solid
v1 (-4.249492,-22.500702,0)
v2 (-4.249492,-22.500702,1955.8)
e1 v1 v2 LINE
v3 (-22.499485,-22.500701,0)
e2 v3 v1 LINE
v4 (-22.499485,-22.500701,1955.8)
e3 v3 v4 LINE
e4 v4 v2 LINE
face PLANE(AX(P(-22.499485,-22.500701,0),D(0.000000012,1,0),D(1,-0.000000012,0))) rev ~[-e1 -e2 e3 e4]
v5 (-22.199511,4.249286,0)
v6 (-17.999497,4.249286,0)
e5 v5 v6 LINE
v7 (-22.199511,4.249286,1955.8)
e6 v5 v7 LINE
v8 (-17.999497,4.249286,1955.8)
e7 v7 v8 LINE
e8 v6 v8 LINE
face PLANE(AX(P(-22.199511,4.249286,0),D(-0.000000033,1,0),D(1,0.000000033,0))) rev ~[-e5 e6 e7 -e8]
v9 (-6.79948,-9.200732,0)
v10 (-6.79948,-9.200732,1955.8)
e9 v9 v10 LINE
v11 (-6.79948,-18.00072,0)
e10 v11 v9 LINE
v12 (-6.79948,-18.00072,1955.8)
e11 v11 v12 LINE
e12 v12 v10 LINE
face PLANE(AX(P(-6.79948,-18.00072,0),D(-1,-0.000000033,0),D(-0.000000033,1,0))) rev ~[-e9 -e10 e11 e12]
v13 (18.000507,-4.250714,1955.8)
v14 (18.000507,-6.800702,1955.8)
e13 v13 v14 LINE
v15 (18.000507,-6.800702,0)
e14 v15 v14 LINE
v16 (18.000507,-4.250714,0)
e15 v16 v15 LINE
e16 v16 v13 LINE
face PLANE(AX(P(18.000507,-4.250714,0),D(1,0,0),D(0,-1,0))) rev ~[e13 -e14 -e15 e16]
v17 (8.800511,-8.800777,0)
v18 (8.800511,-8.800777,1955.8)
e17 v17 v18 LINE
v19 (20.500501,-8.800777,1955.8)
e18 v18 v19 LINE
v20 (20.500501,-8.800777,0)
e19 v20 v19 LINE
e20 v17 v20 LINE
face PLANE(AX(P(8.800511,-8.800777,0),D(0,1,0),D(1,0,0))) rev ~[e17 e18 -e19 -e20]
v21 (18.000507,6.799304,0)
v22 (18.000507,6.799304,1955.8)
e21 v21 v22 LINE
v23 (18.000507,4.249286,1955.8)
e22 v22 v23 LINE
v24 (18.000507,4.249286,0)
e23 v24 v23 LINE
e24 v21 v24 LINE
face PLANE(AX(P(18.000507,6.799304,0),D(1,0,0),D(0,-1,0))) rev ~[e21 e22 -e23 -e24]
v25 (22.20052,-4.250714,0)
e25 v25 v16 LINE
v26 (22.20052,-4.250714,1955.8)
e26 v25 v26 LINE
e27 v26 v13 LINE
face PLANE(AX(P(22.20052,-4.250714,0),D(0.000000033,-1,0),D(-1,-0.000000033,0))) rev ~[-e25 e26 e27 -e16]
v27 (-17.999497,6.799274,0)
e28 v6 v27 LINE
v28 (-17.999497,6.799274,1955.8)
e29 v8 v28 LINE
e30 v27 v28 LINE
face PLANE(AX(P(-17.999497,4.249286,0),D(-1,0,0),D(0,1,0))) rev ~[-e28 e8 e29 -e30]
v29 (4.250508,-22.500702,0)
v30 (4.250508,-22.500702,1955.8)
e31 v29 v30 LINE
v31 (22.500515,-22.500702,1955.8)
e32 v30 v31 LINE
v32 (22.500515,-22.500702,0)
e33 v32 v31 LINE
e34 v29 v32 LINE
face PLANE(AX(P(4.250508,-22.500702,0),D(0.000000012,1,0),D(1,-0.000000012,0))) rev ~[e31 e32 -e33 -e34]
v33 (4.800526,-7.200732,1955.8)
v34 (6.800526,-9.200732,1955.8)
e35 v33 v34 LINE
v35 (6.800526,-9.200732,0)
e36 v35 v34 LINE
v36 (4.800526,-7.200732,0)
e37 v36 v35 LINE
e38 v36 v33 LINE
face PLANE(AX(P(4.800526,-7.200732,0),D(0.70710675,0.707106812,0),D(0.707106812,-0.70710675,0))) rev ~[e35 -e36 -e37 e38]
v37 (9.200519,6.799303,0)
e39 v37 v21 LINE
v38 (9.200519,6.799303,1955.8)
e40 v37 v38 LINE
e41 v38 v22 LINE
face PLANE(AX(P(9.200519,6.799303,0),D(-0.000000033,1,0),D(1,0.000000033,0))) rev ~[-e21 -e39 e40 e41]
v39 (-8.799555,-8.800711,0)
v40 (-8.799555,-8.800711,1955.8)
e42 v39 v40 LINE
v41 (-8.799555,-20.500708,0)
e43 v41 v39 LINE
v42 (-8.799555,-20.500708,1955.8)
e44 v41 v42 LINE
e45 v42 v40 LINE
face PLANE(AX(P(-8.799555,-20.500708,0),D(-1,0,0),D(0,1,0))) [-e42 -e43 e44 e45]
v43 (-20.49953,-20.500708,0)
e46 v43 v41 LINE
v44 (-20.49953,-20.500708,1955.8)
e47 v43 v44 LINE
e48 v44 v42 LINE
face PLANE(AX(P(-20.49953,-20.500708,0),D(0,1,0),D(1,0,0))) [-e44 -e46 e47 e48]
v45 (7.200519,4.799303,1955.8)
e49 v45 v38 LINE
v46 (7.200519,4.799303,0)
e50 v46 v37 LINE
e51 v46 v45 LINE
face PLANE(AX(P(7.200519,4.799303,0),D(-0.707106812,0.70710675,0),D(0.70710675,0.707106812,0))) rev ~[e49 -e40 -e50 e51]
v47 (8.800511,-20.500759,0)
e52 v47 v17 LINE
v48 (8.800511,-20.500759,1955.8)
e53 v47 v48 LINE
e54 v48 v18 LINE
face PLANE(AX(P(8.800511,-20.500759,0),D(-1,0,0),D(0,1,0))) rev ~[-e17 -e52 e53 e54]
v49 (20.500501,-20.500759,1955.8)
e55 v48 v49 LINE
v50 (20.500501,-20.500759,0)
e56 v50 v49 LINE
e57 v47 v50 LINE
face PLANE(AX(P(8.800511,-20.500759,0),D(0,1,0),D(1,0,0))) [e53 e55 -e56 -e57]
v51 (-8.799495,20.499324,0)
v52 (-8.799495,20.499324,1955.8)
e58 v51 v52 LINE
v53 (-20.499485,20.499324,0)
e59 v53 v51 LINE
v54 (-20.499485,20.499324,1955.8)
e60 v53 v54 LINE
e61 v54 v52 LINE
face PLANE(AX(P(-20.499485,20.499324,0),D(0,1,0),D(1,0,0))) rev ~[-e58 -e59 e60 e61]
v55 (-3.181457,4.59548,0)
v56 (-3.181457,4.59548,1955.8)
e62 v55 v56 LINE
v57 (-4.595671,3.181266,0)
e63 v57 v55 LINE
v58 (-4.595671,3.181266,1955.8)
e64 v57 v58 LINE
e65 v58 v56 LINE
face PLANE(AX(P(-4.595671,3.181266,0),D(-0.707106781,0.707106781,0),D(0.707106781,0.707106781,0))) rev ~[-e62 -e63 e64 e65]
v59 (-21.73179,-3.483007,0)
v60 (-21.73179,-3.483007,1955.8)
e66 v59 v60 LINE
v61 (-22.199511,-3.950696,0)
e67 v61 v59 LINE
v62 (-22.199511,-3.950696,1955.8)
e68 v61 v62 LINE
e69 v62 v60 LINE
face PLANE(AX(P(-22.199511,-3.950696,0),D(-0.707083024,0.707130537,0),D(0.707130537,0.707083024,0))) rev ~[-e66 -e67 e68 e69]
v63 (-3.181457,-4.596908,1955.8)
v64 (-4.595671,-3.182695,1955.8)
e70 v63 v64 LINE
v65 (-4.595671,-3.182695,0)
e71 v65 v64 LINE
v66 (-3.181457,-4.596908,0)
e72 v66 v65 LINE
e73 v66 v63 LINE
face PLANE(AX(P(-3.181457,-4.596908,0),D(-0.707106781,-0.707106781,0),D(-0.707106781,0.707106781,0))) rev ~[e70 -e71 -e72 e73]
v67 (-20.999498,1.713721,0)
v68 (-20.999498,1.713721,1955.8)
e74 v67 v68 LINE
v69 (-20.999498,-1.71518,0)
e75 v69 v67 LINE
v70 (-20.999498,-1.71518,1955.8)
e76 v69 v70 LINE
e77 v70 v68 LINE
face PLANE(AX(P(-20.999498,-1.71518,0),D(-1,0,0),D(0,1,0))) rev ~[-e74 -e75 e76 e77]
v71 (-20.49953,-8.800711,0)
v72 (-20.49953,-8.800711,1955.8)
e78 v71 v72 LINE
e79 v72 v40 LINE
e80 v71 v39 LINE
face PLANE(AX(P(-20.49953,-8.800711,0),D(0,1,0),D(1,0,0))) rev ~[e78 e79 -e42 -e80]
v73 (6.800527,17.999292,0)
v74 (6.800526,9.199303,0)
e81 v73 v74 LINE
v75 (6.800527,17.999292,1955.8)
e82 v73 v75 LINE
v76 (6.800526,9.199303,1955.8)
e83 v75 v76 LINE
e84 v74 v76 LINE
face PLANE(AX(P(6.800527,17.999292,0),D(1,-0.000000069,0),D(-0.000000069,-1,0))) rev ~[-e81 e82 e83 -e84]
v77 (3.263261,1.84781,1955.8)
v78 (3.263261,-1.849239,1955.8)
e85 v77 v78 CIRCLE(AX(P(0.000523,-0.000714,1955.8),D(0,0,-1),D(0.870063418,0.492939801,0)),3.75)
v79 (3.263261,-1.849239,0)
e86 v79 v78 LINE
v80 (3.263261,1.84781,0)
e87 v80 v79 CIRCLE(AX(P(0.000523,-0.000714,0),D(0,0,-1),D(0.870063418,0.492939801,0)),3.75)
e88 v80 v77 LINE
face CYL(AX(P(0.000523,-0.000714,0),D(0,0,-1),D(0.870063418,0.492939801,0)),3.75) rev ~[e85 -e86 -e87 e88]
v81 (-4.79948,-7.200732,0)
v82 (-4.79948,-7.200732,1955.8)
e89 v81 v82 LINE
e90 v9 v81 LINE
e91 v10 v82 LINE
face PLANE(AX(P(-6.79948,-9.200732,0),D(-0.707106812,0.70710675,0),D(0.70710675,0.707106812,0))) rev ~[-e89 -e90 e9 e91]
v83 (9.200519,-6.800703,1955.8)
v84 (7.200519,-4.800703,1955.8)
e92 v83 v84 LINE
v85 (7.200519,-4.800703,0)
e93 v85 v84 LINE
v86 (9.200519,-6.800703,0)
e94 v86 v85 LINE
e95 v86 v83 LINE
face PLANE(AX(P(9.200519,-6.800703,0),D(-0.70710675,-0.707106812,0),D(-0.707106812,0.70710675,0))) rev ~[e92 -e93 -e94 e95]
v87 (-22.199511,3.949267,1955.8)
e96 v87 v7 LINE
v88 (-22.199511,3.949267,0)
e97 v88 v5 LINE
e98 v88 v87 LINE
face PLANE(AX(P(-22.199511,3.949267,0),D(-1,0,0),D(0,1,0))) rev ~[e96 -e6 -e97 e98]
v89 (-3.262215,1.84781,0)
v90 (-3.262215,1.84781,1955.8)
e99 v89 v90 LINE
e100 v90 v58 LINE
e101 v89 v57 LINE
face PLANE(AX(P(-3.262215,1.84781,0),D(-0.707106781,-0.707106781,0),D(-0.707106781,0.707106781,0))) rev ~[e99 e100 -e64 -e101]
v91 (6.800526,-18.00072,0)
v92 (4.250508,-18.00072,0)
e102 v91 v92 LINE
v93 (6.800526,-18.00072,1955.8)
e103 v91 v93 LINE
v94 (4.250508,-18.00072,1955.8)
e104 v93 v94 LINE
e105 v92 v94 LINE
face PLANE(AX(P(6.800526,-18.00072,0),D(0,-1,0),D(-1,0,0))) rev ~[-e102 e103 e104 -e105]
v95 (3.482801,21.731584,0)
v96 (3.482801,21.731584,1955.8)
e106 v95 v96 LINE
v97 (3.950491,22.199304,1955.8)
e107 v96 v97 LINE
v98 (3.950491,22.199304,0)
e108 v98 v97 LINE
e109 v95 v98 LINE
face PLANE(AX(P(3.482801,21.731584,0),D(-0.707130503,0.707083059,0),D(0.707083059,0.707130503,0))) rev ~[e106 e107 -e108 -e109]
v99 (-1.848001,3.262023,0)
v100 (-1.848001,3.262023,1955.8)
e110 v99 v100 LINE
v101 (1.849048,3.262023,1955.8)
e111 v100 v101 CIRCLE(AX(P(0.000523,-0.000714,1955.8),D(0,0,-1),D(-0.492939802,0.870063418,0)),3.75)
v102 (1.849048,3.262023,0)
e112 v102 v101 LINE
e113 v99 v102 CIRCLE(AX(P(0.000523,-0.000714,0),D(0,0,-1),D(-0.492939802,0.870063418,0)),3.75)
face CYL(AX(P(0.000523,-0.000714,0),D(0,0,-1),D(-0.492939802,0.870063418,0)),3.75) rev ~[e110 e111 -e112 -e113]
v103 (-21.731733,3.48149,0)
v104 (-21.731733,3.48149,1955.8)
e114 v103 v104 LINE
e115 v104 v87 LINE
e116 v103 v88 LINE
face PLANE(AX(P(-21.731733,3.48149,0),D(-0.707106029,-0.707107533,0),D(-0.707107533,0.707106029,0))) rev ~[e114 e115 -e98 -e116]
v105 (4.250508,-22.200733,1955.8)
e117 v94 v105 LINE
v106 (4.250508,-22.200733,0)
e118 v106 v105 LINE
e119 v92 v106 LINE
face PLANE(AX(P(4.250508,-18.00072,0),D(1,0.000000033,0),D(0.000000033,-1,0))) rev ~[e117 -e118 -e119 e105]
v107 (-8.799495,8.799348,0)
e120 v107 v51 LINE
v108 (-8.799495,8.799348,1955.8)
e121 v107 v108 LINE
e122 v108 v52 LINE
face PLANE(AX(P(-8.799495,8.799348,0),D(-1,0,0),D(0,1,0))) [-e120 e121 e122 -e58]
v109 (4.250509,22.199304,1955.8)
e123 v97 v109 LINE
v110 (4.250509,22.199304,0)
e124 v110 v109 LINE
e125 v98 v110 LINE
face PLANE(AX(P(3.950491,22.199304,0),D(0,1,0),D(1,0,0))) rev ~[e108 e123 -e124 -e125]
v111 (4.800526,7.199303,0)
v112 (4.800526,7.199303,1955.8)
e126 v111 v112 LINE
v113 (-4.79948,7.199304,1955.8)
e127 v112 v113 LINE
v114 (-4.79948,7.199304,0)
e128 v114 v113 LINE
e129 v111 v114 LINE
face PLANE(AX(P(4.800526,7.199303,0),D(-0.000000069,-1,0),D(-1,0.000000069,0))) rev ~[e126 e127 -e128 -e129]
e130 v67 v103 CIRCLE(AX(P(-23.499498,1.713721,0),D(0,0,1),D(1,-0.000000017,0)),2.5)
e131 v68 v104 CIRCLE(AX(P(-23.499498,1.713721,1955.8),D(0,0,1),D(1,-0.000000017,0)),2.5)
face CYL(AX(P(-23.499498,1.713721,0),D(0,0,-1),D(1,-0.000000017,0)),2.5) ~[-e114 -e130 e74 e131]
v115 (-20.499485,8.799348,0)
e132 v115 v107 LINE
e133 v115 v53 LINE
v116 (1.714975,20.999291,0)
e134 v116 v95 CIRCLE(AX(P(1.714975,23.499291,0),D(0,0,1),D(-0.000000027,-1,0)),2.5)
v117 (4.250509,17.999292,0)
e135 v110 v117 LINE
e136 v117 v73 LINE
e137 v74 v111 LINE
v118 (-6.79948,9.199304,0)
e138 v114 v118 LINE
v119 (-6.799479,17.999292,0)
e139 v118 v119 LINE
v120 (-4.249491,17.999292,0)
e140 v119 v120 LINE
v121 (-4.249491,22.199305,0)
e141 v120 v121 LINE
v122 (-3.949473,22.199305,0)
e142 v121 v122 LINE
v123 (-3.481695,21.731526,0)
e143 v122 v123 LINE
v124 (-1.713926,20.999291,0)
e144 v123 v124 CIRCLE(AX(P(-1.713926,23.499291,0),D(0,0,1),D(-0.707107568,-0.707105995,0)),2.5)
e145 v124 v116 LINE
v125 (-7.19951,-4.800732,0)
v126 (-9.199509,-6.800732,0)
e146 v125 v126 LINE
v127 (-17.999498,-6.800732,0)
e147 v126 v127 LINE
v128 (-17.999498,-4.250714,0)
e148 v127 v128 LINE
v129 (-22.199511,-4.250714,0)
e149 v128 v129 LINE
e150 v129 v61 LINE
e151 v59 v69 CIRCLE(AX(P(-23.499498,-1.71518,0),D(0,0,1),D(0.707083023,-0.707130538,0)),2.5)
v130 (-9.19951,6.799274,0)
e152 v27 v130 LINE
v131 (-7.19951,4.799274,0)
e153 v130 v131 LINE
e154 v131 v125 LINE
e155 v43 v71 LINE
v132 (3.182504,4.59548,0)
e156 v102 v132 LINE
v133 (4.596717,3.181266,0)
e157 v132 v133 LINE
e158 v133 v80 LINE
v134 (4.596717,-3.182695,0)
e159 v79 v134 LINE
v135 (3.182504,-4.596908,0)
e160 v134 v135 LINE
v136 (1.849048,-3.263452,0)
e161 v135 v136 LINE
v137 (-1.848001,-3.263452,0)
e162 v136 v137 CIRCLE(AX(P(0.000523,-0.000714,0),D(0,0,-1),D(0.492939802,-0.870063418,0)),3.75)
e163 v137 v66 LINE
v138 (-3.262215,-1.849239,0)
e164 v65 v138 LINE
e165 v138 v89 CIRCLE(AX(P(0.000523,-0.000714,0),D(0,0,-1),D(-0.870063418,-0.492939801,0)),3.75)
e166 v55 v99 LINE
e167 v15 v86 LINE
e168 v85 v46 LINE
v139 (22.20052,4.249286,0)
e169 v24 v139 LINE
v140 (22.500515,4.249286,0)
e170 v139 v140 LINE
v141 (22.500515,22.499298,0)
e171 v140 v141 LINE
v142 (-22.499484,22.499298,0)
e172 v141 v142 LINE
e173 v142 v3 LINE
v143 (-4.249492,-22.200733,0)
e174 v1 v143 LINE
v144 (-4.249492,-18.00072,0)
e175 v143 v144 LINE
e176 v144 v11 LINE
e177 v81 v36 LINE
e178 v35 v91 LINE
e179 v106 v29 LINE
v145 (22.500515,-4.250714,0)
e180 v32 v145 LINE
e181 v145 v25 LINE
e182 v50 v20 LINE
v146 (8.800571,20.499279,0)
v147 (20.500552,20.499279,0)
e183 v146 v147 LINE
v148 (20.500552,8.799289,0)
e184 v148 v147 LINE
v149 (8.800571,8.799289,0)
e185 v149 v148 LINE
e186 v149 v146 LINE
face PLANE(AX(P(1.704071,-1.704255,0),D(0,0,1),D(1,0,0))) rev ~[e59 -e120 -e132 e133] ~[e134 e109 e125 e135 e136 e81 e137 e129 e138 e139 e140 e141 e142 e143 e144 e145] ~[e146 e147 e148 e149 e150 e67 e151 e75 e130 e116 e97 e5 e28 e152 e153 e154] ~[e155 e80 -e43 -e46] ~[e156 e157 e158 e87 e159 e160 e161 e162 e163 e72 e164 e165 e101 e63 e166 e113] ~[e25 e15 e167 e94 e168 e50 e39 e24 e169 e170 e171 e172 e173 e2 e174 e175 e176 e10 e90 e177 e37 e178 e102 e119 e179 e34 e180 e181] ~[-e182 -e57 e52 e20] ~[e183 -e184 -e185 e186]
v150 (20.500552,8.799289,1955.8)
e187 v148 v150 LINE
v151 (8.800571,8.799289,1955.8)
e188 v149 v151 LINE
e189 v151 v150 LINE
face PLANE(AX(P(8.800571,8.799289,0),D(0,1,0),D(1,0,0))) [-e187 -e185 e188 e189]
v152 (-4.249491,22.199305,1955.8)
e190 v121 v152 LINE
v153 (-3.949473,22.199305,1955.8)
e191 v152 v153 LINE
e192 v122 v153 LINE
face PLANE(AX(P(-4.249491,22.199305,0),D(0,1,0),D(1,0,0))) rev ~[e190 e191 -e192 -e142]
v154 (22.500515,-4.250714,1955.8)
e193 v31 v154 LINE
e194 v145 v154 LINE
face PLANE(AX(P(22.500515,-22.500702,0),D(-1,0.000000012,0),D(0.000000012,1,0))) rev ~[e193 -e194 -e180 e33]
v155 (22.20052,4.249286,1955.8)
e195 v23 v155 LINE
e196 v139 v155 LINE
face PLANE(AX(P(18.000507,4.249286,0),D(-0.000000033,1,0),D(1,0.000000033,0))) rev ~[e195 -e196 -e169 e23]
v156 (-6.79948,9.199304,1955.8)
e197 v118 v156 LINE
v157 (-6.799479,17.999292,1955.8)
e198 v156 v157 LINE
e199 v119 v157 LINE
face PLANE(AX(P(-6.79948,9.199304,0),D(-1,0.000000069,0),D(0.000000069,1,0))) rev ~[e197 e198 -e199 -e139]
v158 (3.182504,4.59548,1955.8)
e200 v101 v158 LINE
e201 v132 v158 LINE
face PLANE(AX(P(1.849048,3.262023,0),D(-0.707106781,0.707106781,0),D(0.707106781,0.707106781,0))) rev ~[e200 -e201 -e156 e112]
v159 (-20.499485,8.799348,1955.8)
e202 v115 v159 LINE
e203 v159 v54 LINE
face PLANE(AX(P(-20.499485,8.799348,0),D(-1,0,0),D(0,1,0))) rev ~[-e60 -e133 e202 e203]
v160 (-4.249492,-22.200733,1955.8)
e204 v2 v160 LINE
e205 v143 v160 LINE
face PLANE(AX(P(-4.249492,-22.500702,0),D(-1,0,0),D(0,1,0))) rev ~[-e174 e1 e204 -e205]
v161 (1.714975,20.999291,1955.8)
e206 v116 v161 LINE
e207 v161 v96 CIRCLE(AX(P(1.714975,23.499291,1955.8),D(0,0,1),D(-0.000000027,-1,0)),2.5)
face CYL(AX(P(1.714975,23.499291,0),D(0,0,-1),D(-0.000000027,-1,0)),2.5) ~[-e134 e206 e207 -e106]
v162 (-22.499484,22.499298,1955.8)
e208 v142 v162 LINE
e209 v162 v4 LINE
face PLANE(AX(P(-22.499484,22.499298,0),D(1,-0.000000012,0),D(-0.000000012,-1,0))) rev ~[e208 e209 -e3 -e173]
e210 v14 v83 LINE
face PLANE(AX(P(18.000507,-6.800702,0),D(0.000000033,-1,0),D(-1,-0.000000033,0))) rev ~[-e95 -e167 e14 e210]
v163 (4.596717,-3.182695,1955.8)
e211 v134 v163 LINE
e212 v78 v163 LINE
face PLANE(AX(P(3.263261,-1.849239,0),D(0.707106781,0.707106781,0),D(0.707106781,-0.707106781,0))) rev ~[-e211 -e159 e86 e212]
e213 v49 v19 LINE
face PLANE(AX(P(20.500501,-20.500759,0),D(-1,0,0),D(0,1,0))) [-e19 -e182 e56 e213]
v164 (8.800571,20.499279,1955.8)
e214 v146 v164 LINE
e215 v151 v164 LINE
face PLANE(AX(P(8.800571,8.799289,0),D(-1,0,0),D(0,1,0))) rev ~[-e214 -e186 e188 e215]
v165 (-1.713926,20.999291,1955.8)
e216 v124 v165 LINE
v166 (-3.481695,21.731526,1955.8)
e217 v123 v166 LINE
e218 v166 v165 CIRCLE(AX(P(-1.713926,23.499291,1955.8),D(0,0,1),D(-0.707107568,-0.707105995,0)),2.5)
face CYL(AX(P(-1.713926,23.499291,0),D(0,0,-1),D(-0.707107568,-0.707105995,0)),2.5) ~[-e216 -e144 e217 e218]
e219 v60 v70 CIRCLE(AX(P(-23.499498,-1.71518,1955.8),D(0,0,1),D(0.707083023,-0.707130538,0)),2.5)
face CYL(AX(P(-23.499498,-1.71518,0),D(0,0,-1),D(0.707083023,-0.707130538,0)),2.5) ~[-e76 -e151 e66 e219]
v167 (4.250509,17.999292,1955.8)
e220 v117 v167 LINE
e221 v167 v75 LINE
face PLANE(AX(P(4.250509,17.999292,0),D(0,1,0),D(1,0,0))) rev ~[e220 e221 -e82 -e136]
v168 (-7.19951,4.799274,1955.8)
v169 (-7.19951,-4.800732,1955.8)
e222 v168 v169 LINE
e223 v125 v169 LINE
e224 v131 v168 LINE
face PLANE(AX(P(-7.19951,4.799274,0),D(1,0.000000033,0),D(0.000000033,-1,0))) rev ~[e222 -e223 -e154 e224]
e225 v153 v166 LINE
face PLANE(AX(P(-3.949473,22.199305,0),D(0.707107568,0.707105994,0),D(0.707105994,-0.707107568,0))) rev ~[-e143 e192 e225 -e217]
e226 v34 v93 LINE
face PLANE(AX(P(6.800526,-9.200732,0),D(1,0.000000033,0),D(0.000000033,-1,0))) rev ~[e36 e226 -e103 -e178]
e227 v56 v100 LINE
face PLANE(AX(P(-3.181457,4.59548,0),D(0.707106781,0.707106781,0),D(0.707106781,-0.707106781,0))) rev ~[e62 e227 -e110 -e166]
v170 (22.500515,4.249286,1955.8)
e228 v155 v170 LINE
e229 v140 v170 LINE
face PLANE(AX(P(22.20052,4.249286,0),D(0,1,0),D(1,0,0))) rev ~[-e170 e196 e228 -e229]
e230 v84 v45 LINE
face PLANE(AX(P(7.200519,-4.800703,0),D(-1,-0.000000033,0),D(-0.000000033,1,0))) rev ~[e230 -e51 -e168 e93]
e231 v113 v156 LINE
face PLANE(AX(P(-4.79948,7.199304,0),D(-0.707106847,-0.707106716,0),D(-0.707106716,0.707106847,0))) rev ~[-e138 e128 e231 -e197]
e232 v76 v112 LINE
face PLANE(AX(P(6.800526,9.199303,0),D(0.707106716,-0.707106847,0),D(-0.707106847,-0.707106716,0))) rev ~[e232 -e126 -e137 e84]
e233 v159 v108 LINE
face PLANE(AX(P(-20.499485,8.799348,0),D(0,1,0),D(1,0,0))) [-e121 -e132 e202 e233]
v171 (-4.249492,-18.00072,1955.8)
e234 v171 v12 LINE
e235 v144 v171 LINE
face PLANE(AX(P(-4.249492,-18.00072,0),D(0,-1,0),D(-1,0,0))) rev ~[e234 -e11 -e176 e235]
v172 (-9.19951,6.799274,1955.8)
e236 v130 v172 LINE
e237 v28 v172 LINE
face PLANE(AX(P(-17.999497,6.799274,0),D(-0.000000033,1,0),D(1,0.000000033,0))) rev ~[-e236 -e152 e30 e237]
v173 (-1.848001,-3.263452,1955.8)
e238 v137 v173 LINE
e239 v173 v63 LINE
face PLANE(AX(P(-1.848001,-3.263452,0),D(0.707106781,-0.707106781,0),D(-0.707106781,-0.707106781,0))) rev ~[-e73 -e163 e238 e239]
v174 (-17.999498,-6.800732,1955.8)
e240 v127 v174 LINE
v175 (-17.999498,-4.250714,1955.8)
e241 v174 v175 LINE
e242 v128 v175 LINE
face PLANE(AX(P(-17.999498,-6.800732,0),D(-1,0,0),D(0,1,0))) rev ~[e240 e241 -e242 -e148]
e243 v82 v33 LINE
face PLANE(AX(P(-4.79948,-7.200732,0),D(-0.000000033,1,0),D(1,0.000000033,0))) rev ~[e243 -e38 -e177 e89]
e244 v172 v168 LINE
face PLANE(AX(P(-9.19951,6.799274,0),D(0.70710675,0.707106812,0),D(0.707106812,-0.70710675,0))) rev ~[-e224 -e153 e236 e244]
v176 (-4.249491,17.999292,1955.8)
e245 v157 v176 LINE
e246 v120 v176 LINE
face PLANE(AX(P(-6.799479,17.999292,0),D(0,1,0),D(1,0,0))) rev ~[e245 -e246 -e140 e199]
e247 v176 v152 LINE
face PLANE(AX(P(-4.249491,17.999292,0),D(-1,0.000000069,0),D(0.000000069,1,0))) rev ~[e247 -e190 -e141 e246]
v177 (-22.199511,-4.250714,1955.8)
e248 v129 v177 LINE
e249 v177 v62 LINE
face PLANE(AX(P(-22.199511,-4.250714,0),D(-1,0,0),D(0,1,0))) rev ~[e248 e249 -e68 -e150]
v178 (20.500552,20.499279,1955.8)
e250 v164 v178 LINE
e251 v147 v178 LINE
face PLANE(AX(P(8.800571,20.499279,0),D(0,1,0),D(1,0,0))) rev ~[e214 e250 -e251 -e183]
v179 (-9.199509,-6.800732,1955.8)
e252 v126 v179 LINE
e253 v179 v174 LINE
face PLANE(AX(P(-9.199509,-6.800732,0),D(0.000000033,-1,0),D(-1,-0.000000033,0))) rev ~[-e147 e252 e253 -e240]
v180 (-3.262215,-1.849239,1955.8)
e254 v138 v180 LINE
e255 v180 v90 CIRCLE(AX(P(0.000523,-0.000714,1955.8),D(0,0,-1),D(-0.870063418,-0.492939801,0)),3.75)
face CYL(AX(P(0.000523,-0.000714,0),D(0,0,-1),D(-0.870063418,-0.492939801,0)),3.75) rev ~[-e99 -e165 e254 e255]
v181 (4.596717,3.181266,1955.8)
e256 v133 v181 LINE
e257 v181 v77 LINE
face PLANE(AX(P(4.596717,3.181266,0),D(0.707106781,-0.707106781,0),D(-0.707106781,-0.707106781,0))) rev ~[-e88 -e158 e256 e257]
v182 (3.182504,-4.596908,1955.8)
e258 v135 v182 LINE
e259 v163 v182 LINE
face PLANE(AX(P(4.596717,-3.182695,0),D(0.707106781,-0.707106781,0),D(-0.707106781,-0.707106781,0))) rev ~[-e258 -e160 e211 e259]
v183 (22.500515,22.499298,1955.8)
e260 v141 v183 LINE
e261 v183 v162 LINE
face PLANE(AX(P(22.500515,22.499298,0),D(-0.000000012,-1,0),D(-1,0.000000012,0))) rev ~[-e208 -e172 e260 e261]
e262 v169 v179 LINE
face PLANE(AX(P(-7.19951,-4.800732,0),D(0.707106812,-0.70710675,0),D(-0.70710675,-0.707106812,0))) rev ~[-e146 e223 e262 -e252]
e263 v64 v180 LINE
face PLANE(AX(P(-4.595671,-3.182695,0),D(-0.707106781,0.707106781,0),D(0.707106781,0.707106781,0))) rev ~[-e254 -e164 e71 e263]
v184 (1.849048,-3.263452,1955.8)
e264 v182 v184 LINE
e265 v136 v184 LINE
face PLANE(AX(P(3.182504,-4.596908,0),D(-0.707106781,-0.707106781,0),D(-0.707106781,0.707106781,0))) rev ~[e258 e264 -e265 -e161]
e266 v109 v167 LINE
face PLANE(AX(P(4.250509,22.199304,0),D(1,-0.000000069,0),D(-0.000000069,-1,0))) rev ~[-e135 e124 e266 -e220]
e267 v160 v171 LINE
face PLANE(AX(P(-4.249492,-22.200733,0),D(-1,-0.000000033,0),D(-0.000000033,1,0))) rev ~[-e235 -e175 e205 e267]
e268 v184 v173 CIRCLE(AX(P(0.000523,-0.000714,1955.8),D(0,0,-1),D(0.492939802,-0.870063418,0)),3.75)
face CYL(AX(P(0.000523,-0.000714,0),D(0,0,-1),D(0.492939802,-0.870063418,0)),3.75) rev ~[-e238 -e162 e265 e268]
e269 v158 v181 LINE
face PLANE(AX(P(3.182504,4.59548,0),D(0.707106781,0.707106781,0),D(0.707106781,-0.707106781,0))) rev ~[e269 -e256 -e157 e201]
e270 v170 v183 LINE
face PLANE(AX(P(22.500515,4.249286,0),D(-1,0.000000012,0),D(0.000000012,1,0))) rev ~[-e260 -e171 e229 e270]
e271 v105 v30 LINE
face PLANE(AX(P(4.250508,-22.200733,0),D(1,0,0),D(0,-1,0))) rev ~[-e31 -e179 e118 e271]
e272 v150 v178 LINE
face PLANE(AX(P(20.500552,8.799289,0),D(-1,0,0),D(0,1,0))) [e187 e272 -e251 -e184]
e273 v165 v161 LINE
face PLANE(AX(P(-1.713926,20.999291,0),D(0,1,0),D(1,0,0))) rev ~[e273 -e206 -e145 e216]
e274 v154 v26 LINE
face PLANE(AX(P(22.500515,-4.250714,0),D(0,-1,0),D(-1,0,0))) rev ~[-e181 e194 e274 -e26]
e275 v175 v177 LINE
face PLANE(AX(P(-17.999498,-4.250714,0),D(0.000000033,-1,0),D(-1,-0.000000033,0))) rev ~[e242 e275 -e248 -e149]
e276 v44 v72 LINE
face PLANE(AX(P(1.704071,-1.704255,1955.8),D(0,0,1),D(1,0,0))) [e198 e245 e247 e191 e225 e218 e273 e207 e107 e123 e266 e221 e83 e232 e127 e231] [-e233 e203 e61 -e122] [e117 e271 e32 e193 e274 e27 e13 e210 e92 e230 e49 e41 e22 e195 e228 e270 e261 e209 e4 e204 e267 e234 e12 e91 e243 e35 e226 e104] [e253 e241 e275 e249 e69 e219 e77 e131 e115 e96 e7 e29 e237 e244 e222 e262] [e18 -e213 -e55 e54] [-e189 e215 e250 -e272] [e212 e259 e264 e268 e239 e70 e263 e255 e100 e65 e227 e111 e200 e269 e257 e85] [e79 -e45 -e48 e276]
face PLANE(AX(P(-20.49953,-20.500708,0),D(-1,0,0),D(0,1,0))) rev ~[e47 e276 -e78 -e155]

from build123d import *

# Parameters (mm, degrees)
SKETCH1_W           = 11.699975178
SKETCH1_H           = 11.699996949
SKETCH1_W_2         = 11.699990436
SKETCH1_H_2         = 11.699981689
SKETCH1_W_3         = 11.699990437
SKETCH1_H_3         = 11.699975177
SKETCH1_W_4         = 11.699981689
SKETCH1_H_4         = 11.699990436
BOSS_EXTRUDE1_DEPTH = 1955.8


with BuildPart() as part:
    # Sketch1 → Boss-Extrude1 (new body)
    with BuildSketch(Plane.XY):
        Polygon((22.500515052, 22.499297556), (-22.499484399, 22.499298105), (-22.499484948, -22.500701346), (-4.249491942, -22.500701568), (-4.249491942, -22.200733242), (-4.24949208, -18.000719999), (-6.799479919, -18.000719999), (-6.799480207, -9.200732353), (-4.799480391, -7.200732362), (4.800525817, -7.200732047), (6.8005258, -9.200731855), (6.800526088, -18.000720263), (4.250507877, -18.000720263), (4.250508015, -22.200733153), (4.250508015, -22.500701672), (22.500514502, -22.500701895), (22.500514725, -4.250714302), (22.200520351, -4.250714302), (18.000507108, -4.25071444), (18.000507108, -6.800702279), (9.200519462, -6.800702567), (7.200519471, -4.800702751), (7.200519156, 4.799303458), (9.200518964, 6.79930344), (18.000507424, 6.799303729), (18.000507424, 4.249285514), (22.200520261, 4.249285652), (22.500514829, 4.249285652), align=None)
        with BuildLine():
            Line((-4.249491247, 17.999291576), (-4.249490956, 22.199304807))
            Line((-4.249490956, 22.199304807), (-3.949472548, 22.199304807))
            Line((-3.949472548, 22.199304807), (-3.481695222, 21.73152644))
            ThreePointArc((-3.481695222, 21.73152644), (-2.670636178, 21.189593132), (-1.713926324, 20.999291428))
            Line((-1.713926324, 20.999291428), (1.714975167, 20.999291428))
            ThreePointArc((1.714975167, 20.999291428), (2.671722509, 21.189608628), (3.482801459, 21.731583767))
            Line((3.482801459, 21.731583767), (3.950490798, 22.199304487))
            Line((3.950490798, 22.199304487), (4.250509108, 22.199304487))
            Line((4.250509108, 22.199304487), (4.250508817, 17.999291575))
            Line((4.250508817, 17.999291575), (6.800527063, 17.999291575))
            Line((6.800527063, 17.999291575), (6.800526453, 9.199302988))
            Line((6.800526453, 9.199302988), (4.800526064, 7.199302969))
            Line((4.800526064, 7.199302969), (-4.799479817, 7.199303635))
            Line((-4.799479817, 7.199303635), (-6.799479854, 9.199304042))
            Line((-6.799479854, 9.199304042), (-6.799479244, 17.999291576))
            Line((-6.799479244, 17.999291576), (-4.249491247, 17.999291576))
        make_face(mode=Mode.SUBTRACT)
        with BuildLine():
            Line((-22.199510888, 4.249285566), (-17.999497356, 4.249285704))
            Line((-17.999497356, 4.249285704), (-17.999497356, 6.79927354))
            Line((-17.999497356, 6.79927354), (-9.199509947, 6.799273828))
            Line((-9.199509947, 6.799273828), (-7.199509956, 4.799274012))
            Line((-7.199509956, 4.799274012), (-7.199509641, -4.800732197))
            Line((-7.199509641, -4.800732197), (-9.199509449, -6.800732179))
            Line((-9.199509449, -6.800732179), (-17.99949762, -6.800732468))
            Line((-17.99949762, -6.800732468), (-17.99949762, -4.250714253))
            Line((-17.99949762, -4.250714253), (-22.199510799, -4.250714391))
            Line((-22.199510799, -4.250714391), (-22.199510799, -3.950696126))
            Line((-22.199510799, -3.950696126), (-21.731790056, -3.48300681))
            ThreePointArc((-21.731790056, -3.48300681), (-21.189814855, -2.671927844), (-20.999497617, -1.71518046))
            Line((-20.999497617, -1.71518046), (-20.999497617, 1.713721031))
            ThreePointArc((-20.999497617, 1.713721031), (-21.189799286, 2.670430863), (-21.731732544, 3.481489907))
            Line((-21.731732544, 3.481489907), (-22.199510888, 3.949267256))
            Line((-22.199510888, 3.949267256), (-22.199510888, 4.249285566))
        make_face(mode=Mode.SUBTRACT)
        with Locations((-14.649542346, -14.650709384)):
            Rectangle(SKETCH1_W, SKETCH1_H, mode=Mode.SUBTRACT)
        with Locations((14.65050626, -14.650767962)):
            Rectangle(SKETCH1_W_2, SKETCH1_H_2, mode=Mode.SUBTRACT)
        with BuildLine():
            Line((-3.181457266, -4.596908447), (-4.595670829, -3.182694885))
            Line((-4.595670829, -3.182694885), (-3.26221457, -1.849238626))
            ThreePointArc((-3.26221457, -1.849238626), (-3.749476751, -0.00071437), (-3.26221457, 1.847809887))
            Line((-3.26221457, 1.847809887), (-4.595670829, 3.181266146))
            Line((-4.595670829, 3.181266146), (-3.181457266, 4.595479708))
            Line((-3.181457266, 4.595479708), (-1.848001007, 3.262023449))
            ThreePointArc((-1.848001007, 3.262023449), (0.000523249, 3.74928563), (1.849047505, 3.262023449))
            Line((1.849047505, 3.262023449), (3.182503764, 4.595479708))
            Line((3.182503764, 4.595479708), (4.596717327, 3.181266146))
            Line((4.596717327, 3.181266146), (3.263261068, 1.847809887))
            ThreePointArc((3.263261068, 1.847809887), (3.750523249, -0.00071437), (3.263261068, -1.849238626))
            Line((3.263261068, -1.849238626), (4.596717327, -3.182694885))
            Line((4.596717327, -3.182694885), (3.182503764, -4.596908447))
            Line((3.182503764, -4.596908447), (1.849047505, -3.263452188))
            ThreePointArc((1.849047505, -3.263452188), (0.000523249, -3.75071437), (-1.848001007, -3.263452188))
            Line((-1.848001007, -3.263452188), (-3.181457266, -4.596908447))
        make_face(mode=Mode.SUBTRACT)
        with Locations((-14.64949028, 14.649335967)):
            Rectangle(SKETCH1_W_3, SKETCH1_H_3, mode=Mode.SUBTRACT)
        with Locations((14.650561583, 14.6492839)):
            Rectangle(SKETCH1_W_4, SKETCH1_H_4, mode=Mode.SUBTRACT)
    extrude(amount=BOSS_EXTRUDE1_DEPTH)


solid = part.part
